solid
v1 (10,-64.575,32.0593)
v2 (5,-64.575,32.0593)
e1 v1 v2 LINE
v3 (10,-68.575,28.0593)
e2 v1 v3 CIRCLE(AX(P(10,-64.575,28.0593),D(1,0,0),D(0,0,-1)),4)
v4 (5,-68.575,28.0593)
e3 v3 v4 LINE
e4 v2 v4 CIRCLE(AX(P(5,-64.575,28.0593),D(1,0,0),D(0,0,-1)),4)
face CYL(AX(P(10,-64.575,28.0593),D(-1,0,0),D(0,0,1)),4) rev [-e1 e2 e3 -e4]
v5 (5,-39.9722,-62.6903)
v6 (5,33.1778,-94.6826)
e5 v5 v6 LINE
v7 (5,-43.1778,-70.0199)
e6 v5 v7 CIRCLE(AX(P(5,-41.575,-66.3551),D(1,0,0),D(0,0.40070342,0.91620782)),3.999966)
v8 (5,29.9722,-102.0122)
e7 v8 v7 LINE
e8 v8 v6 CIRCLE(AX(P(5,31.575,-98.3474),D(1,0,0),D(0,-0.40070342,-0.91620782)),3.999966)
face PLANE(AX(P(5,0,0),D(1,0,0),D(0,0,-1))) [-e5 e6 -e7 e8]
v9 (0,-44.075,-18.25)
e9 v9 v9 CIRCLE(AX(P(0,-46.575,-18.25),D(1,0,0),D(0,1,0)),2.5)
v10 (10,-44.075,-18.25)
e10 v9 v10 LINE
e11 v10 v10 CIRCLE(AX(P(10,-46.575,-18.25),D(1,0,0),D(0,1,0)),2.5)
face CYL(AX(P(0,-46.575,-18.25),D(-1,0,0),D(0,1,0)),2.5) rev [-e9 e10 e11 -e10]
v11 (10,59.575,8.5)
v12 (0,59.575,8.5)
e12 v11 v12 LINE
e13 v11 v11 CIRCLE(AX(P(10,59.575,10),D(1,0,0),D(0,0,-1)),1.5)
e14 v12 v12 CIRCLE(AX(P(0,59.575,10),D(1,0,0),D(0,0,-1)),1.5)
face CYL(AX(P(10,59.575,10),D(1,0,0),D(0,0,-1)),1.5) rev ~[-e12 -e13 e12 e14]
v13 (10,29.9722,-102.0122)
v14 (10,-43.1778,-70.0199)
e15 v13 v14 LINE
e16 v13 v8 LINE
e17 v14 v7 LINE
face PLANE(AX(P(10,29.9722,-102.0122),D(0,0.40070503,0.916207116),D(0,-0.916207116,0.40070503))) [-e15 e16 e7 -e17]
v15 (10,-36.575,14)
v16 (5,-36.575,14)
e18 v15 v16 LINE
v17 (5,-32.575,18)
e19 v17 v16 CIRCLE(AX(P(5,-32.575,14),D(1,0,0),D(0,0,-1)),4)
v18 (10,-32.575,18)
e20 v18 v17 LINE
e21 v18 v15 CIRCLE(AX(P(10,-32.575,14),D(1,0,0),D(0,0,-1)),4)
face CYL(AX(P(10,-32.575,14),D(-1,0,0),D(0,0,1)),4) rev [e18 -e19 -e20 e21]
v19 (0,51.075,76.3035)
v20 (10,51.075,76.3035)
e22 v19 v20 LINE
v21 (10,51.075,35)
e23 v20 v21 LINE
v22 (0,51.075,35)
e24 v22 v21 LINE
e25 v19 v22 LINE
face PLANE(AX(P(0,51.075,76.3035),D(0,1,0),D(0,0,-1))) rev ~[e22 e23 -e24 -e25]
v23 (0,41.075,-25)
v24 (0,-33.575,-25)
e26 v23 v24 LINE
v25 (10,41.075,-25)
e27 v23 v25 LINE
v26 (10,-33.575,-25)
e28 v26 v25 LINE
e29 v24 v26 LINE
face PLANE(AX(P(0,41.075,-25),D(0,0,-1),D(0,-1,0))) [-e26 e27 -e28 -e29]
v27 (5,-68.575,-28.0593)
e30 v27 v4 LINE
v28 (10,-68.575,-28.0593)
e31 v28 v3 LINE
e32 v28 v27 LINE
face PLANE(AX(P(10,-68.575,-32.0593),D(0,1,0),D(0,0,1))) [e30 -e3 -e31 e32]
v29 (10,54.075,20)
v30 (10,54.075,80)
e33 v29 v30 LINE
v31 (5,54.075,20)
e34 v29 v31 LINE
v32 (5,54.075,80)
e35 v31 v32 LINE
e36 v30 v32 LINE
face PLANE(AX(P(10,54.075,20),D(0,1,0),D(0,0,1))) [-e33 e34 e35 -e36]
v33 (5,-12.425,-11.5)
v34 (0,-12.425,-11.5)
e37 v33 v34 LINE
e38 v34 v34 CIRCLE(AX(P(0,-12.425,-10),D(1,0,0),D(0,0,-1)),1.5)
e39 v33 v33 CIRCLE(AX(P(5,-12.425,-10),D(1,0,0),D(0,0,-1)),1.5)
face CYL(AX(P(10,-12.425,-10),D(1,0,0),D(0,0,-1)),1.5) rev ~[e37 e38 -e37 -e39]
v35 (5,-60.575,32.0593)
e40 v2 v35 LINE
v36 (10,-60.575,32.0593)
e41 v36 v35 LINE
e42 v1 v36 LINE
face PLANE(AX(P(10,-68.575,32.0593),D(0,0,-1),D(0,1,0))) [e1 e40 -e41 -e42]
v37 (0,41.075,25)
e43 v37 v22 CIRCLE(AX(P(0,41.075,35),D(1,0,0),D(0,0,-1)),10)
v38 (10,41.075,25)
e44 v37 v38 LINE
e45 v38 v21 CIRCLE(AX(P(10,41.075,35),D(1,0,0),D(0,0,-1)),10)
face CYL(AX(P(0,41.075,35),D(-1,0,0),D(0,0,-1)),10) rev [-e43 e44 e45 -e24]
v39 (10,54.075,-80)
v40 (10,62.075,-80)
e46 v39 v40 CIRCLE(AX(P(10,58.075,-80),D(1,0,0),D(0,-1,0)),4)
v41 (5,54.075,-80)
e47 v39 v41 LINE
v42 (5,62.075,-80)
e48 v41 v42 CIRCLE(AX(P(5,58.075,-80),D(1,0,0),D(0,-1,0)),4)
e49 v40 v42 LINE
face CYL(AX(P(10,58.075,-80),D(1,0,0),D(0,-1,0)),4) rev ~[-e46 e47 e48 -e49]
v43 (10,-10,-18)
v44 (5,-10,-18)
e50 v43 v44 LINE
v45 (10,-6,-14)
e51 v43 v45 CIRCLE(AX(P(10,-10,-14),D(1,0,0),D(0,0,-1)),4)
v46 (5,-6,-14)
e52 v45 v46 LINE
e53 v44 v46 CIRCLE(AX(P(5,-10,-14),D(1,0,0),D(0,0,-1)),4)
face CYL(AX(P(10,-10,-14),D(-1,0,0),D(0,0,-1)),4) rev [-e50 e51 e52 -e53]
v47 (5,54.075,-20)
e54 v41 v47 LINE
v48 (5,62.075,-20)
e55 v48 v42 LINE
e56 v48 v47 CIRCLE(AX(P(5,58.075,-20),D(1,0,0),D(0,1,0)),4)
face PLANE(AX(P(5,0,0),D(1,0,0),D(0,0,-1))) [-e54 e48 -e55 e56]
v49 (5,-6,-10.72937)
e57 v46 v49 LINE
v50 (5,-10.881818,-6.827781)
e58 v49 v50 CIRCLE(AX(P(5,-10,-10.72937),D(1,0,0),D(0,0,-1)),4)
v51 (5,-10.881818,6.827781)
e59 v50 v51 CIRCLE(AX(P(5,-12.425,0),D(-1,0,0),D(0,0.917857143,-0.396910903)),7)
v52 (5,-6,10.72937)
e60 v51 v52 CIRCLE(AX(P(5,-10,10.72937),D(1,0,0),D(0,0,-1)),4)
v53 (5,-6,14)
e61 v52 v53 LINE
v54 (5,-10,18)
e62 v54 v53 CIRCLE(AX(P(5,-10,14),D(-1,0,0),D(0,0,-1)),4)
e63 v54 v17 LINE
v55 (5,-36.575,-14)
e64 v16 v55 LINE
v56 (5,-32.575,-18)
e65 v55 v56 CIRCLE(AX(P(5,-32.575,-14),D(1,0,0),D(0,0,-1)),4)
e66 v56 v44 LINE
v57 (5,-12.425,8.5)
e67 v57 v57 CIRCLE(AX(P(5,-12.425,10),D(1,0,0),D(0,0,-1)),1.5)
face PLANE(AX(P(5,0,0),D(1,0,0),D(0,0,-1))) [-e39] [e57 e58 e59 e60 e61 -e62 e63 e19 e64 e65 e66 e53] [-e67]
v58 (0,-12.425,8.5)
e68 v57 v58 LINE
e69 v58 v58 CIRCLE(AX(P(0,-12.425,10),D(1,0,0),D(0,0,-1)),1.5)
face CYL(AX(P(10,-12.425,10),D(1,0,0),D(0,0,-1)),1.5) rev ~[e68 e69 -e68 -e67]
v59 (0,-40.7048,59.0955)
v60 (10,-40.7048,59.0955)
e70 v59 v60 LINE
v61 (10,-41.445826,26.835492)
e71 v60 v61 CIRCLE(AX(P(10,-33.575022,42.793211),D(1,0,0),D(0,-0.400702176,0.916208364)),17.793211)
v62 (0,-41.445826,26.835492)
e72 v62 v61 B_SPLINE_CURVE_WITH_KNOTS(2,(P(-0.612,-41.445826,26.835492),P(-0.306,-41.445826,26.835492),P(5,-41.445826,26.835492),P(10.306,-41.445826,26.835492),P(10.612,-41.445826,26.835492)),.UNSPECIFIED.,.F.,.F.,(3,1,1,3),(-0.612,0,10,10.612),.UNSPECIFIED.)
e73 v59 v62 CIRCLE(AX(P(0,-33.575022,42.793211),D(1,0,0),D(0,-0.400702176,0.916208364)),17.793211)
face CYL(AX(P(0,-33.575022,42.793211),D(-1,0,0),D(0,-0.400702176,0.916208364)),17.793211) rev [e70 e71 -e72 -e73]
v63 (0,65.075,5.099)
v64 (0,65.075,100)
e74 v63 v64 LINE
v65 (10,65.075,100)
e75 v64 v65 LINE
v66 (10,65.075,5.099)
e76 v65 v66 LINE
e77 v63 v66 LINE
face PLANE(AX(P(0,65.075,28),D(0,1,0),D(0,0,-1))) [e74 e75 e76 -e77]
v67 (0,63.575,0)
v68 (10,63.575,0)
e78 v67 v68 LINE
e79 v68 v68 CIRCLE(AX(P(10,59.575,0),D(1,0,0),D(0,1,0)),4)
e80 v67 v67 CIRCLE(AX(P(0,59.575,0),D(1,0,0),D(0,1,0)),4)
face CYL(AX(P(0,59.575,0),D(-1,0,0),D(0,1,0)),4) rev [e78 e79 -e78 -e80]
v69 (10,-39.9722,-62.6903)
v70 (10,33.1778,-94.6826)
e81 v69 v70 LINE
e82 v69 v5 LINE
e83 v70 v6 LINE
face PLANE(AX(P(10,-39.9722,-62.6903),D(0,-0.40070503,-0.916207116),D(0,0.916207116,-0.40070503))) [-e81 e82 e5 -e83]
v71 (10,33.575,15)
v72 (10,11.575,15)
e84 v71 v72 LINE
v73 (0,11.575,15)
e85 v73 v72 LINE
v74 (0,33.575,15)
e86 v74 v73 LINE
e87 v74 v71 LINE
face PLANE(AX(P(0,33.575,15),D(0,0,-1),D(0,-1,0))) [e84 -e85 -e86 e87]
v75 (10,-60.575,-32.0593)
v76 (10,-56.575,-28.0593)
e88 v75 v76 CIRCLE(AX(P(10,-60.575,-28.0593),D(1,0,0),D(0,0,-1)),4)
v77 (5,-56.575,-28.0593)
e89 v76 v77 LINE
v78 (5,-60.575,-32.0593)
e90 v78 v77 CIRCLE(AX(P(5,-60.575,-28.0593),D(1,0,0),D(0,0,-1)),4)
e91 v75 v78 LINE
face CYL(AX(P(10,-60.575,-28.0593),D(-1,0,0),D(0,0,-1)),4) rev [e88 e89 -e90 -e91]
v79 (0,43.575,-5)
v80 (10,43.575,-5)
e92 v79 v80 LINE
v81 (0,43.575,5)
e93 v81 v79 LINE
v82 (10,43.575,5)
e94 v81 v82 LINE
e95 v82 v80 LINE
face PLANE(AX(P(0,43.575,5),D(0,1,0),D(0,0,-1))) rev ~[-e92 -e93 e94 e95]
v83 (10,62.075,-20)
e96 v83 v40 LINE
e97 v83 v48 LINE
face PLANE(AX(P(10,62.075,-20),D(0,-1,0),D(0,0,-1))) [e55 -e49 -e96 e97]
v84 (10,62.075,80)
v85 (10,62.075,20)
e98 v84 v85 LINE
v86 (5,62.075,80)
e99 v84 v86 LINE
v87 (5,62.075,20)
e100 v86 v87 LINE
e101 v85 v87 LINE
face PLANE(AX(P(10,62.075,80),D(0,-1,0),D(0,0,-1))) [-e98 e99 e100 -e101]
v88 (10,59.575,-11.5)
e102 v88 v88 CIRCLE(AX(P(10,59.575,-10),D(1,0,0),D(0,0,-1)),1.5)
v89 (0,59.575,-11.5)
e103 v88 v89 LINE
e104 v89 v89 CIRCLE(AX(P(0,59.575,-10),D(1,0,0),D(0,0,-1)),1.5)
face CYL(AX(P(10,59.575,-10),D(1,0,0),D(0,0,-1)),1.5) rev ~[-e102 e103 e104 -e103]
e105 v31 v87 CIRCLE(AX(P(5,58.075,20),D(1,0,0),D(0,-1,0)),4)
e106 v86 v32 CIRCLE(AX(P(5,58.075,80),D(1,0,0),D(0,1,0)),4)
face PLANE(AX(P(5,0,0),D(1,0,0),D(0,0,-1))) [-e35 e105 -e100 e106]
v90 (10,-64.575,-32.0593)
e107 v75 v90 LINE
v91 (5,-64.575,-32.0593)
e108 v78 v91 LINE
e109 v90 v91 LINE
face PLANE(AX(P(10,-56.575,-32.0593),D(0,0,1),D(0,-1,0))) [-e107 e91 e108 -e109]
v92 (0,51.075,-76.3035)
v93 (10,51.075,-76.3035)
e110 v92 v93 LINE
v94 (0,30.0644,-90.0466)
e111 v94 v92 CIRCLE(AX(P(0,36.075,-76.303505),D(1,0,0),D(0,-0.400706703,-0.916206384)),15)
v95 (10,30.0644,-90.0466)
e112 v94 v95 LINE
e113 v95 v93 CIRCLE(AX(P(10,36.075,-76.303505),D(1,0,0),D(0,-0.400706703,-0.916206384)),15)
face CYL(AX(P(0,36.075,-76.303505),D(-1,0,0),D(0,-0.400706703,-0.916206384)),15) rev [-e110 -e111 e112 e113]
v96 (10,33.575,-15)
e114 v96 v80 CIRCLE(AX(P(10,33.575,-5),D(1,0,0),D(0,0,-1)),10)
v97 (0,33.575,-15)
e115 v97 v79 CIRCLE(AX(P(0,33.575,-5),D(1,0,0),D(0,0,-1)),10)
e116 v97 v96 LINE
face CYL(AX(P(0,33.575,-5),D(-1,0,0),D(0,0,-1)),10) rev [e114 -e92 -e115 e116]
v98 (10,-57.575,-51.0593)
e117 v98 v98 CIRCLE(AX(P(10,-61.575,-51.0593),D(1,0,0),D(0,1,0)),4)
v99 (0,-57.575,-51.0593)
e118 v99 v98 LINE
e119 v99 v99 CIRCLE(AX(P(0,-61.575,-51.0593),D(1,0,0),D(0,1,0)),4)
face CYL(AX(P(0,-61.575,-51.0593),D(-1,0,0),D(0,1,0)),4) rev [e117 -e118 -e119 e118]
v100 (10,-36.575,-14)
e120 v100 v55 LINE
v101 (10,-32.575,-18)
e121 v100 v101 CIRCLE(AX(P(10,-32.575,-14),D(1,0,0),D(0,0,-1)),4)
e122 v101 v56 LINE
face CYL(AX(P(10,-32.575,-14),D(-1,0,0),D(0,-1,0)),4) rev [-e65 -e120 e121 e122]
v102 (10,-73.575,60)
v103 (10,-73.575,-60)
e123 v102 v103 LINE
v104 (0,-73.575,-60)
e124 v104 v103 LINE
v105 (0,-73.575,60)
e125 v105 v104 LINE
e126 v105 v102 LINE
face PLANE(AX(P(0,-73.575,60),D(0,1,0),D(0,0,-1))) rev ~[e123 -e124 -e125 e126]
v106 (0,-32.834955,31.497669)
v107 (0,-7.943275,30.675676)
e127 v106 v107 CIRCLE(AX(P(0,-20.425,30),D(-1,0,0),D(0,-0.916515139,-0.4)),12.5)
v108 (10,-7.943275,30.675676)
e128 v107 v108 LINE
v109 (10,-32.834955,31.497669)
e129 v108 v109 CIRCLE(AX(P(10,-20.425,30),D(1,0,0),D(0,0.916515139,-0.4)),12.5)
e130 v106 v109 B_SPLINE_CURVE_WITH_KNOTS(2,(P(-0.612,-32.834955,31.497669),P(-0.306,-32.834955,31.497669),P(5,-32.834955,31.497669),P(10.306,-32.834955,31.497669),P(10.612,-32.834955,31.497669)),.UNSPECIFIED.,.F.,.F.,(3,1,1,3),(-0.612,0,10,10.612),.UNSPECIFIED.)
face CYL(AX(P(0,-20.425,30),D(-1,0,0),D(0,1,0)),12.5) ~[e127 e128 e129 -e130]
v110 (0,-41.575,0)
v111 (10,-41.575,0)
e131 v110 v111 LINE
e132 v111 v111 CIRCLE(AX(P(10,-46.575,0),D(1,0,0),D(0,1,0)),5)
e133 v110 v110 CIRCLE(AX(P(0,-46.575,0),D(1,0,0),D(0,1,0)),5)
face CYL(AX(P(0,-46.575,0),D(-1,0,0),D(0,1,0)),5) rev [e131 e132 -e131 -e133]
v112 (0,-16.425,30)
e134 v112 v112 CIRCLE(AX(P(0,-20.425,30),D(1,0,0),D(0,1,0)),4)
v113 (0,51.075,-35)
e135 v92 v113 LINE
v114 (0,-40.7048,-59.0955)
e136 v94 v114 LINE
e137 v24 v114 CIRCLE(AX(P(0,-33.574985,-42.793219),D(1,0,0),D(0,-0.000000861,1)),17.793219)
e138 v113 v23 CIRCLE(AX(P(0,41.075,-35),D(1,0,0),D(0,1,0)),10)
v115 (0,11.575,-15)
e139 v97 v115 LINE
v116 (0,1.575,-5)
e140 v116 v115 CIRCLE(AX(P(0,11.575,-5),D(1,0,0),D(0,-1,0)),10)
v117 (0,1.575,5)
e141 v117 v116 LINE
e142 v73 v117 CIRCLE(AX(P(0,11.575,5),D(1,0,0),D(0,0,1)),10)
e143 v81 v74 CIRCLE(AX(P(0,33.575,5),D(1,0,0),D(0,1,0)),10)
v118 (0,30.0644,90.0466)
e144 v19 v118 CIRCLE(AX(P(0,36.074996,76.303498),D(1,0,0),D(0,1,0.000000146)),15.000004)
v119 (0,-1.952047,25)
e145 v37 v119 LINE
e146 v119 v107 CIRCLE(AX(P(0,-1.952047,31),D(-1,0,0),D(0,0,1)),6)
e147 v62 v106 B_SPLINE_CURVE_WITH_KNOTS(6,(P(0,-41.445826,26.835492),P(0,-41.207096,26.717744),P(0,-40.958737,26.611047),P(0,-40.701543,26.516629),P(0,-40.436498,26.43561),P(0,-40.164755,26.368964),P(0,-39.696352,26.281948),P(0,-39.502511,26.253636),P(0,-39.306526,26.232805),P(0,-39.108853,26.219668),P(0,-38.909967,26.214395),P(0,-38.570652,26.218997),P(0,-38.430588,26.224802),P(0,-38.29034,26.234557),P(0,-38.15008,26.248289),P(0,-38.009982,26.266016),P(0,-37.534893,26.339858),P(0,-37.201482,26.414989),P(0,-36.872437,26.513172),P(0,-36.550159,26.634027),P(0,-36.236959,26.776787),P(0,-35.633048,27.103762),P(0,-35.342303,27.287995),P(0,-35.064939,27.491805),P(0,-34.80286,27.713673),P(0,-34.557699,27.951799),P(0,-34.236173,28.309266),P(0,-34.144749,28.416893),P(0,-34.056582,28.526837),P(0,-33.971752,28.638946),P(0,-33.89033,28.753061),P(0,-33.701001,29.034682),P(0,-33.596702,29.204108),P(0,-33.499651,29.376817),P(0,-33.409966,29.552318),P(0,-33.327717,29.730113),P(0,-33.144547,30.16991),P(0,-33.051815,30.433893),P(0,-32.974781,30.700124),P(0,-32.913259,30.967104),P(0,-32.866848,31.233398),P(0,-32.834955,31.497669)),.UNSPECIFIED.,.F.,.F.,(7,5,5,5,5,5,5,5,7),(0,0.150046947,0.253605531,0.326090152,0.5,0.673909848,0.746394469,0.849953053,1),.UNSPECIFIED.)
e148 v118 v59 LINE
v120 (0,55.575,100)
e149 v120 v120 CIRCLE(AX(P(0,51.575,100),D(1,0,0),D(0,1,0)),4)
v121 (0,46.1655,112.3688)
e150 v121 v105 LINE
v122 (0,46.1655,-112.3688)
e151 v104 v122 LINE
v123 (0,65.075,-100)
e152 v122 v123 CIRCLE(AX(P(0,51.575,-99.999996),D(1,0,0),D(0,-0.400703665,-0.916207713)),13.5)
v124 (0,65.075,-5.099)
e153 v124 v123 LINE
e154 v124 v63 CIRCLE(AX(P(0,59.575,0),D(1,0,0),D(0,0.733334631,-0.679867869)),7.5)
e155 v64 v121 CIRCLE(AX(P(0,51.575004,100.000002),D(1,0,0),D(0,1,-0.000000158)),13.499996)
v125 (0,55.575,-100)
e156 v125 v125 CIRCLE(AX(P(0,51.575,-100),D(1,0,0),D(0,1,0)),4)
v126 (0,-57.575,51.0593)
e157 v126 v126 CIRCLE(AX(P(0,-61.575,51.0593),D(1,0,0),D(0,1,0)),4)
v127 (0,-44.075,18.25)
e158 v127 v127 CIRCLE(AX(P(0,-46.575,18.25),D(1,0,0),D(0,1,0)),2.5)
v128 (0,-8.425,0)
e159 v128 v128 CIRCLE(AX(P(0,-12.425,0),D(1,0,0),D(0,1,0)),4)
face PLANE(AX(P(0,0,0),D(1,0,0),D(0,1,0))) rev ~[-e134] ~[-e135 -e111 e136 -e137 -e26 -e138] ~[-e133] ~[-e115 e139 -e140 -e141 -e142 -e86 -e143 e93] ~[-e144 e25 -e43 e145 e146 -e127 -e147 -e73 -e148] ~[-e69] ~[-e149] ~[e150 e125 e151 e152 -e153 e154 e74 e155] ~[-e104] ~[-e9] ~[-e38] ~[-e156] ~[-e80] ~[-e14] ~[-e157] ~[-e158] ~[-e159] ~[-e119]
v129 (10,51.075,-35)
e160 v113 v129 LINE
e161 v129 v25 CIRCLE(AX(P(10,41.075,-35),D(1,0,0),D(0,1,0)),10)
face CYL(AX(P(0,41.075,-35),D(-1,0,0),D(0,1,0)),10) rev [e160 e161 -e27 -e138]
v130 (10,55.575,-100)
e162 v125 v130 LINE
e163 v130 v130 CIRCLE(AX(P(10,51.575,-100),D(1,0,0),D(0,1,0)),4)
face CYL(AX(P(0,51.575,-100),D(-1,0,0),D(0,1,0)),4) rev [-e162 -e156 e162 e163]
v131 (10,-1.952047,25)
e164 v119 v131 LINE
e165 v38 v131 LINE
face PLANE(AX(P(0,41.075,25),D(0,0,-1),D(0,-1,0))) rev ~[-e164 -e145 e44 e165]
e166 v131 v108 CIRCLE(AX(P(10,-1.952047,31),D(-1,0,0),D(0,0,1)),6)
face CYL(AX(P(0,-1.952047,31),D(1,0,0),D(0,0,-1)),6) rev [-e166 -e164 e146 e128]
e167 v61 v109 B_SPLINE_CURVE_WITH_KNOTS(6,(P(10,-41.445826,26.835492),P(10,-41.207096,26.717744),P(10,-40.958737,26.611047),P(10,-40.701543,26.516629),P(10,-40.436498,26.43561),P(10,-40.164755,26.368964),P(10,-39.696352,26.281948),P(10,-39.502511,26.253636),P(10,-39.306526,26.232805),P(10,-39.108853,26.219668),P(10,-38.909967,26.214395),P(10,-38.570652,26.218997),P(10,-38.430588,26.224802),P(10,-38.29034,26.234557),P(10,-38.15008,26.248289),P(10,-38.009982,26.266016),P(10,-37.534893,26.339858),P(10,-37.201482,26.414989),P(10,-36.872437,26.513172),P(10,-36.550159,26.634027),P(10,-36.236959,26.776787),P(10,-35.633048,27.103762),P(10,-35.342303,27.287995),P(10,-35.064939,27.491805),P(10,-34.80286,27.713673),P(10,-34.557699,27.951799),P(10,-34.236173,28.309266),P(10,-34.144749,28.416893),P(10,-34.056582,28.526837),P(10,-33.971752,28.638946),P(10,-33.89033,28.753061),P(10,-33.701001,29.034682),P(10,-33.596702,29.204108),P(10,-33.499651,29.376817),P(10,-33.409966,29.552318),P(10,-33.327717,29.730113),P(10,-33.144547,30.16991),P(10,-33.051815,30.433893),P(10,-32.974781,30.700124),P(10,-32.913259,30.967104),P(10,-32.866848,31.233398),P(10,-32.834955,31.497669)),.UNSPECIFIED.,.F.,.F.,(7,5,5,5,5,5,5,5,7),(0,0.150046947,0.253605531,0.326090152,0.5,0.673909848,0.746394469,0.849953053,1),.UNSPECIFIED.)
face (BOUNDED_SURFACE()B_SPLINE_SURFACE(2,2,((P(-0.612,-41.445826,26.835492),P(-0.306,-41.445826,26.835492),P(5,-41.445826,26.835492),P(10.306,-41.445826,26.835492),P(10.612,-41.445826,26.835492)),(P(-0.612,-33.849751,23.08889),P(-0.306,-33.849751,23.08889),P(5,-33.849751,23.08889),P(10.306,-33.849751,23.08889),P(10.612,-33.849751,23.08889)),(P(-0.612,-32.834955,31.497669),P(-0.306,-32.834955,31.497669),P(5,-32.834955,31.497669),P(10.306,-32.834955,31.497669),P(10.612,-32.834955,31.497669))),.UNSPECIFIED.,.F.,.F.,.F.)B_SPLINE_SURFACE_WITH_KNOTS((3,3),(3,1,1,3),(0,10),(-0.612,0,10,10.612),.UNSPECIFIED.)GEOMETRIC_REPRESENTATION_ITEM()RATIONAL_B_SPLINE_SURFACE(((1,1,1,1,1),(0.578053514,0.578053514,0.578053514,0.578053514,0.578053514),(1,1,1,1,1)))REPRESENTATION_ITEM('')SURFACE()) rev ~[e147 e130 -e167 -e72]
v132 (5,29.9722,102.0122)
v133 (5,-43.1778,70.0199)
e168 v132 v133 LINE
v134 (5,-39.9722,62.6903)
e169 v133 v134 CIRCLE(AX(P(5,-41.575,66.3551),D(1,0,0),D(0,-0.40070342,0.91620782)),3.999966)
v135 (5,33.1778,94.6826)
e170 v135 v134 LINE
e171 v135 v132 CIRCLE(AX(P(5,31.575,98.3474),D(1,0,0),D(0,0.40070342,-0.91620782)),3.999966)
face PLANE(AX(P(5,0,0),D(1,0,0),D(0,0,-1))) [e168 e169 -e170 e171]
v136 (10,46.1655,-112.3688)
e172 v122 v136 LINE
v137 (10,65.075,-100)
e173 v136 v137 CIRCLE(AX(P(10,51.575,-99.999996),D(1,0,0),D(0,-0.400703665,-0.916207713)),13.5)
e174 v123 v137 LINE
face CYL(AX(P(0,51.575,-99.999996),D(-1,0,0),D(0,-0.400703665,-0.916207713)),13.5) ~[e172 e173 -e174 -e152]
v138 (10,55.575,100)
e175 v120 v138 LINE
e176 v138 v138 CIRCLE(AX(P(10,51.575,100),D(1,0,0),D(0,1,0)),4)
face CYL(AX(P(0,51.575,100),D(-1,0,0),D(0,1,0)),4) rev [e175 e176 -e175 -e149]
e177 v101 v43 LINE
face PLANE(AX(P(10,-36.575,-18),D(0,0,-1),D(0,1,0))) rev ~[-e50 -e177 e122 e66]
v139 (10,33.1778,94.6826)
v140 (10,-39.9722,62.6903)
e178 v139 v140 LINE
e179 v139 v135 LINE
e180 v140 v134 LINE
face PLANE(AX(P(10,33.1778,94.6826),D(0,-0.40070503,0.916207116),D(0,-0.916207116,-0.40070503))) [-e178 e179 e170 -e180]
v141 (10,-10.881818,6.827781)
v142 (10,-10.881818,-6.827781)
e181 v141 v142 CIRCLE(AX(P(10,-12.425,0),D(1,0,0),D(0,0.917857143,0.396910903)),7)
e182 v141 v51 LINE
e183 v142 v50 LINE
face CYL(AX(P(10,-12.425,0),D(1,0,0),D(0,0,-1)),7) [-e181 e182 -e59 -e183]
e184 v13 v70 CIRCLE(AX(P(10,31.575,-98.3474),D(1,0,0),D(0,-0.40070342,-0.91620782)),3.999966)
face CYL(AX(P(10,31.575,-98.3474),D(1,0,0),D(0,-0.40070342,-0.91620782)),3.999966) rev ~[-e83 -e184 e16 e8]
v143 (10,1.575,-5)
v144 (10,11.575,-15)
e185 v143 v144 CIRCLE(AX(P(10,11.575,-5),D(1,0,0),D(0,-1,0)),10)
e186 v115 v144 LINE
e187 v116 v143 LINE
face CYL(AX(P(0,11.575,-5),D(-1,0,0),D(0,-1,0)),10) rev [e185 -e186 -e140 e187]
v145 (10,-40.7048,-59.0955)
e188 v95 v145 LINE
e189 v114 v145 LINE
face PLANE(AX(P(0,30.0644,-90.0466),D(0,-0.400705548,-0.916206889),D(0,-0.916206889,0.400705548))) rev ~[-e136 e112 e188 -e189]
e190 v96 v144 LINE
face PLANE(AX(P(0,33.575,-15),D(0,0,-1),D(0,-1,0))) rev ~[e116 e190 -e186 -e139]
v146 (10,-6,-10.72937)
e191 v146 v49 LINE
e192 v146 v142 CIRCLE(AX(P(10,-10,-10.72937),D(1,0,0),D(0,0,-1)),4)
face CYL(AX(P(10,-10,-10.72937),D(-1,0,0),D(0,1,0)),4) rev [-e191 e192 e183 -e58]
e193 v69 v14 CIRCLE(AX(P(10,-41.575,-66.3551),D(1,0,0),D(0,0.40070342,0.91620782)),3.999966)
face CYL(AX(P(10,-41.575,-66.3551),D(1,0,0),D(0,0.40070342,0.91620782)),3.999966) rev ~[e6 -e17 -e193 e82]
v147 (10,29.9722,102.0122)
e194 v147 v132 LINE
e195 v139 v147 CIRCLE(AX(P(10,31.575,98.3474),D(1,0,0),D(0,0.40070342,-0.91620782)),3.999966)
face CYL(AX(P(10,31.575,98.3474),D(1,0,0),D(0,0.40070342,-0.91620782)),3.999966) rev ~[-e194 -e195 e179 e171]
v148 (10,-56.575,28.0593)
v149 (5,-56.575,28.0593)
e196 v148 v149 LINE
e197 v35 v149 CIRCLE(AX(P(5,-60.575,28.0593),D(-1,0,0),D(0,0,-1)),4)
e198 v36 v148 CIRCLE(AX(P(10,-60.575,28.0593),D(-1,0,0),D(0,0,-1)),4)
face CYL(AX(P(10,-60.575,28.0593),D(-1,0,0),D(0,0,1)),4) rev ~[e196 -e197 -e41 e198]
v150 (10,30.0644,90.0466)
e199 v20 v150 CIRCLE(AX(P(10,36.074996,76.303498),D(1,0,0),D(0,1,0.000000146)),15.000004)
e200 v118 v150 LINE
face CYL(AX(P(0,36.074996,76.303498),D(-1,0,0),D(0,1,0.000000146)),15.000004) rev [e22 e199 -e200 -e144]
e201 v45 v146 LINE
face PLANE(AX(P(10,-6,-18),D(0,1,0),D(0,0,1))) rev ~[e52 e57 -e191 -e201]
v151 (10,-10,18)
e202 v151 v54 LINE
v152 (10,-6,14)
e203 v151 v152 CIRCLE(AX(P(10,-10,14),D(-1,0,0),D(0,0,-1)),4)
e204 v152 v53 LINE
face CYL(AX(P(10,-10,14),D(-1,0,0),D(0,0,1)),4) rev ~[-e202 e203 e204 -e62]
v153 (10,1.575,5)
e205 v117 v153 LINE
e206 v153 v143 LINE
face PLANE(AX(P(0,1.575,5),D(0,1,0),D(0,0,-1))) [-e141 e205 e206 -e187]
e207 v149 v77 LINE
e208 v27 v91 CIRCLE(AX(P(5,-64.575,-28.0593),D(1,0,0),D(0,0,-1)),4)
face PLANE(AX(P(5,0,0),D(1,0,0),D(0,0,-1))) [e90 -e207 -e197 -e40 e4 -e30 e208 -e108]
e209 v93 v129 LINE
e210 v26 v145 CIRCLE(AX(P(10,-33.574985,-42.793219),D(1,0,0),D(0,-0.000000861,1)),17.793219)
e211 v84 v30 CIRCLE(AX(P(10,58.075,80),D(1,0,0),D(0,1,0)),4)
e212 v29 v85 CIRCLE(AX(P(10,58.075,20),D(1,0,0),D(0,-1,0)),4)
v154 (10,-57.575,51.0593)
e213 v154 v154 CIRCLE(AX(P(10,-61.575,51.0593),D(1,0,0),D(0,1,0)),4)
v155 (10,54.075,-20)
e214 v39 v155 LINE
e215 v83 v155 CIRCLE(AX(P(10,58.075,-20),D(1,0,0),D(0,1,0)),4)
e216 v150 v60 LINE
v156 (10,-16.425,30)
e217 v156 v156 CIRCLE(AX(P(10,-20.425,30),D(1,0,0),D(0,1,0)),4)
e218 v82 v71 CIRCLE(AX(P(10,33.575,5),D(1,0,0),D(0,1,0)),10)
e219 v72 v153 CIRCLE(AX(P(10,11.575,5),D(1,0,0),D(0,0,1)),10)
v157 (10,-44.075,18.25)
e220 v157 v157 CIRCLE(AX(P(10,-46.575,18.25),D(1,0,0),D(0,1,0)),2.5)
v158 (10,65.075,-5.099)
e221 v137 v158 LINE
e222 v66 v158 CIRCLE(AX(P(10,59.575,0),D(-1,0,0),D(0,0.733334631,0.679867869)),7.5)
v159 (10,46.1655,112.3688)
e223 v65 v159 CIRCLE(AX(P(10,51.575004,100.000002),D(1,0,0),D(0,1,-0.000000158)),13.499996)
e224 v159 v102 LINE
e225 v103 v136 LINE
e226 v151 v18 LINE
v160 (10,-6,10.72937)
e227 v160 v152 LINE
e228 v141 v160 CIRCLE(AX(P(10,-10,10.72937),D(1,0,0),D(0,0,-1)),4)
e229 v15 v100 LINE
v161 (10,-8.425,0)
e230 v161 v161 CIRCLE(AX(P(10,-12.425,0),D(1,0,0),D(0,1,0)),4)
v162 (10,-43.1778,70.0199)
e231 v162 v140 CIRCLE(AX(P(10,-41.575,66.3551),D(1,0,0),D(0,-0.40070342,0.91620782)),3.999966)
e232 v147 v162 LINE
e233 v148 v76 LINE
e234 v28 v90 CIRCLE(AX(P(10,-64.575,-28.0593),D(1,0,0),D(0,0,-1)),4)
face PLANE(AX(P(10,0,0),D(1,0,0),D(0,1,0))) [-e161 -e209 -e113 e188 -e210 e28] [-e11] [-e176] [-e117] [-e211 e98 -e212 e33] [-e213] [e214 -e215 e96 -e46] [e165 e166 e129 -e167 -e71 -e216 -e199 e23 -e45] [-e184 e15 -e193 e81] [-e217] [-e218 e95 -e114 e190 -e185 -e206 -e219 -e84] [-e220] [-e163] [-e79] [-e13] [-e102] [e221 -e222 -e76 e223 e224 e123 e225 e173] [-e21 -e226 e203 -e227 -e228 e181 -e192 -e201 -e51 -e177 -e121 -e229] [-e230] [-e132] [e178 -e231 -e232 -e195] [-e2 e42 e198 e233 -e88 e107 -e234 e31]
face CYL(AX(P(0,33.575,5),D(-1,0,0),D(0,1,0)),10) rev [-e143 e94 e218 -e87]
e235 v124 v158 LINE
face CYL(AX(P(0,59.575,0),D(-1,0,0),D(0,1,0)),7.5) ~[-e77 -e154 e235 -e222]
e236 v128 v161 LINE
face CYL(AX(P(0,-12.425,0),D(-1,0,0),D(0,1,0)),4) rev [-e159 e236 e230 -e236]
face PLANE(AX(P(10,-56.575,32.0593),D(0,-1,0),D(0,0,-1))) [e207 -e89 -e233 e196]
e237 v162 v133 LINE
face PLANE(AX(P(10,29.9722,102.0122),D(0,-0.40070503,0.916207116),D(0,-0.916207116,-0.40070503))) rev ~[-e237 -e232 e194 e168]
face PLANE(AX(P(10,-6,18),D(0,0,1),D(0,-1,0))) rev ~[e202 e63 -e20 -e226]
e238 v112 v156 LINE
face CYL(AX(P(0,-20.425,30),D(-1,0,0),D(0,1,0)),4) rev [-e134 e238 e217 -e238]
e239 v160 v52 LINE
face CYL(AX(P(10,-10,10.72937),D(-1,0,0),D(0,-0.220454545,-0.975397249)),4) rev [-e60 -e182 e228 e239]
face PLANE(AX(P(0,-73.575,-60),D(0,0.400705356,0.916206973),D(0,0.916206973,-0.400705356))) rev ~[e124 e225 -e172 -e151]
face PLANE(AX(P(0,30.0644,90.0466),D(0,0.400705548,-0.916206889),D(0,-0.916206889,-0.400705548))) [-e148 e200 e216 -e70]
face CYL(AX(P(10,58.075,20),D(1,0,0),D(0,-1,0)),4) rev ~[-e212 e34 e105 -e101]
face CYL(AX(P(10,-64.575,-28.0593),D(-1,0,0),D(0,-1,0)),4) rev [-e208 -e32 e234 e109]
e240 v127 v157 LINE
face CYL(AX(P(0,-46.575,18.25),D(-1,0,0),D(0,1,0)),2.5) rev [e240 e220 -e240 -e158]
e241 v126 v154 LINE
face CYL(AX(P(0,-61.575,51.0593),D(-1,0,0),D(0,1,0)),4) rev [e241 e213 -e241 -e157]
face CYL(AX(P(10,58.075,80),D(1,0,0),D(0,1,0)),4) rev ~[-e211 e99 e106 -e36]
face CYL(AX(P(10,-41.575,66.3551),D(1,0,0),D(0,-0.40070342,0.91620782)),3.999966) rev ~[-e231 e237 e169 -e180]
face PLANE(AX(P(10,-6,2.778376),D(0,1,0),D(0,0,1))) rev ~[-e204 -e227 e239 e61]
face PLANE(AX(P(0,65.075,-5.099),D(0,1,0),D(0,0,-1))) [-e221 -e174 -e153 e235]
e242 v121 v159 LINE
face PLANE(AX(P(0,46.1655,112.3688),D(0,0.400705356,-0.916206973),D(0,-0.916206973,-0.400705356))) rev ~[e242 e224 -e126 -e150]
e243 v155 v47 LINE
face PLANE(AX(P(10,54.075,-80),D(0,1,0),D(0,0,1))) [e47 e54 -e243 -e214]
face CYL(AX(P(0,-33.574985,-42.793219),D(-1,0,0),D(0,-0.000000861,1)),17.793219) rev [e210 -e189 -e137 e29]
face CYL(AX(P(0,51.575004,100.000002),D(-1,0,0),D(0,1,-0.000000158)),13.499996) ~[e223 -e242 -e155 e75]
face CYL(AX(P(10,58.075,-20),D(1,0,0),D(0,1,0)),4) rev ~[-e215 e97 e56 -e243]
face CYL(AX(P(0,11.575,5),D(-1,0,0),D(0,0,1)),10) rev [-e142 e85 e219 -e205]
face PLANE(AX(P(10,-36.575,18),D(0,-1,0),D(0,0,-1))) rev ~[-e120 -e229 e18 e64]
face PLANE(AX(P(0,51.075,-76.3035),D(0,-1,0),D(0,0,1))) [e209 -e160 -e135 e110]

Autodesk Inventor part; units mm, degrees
ref_plane "YZ Plane" through (0, 0, 0) normal (1, 0, 0) x (0, 1, 0)
ref_plane "XZ Plane" through (0, 0, 0) normal (0, 1, 0) x (-1, 0, 0)
ref_plane "XY Plane" through (0, 0, 0) normal (0, 0, 1) x (1, 0, 0)
sketch "Sketch1" plane through (0, 0, 0) normal (1, 0, 0) x (0, 1, 0)
  line L0 (73.575, 28) -> (65.075, 28)
  line L1 (-73.575, 60) -> (-73.575, -60)
  line L2 (73.575, -28) -> (73.575, 28)
  circle A0 centre (59.575, 0) radius 4
  circle A1 centre (-12.425, 0) radius 4
  circle A2 centre (-46.575, 0) radius 5
  circle A3 centre (-46.575, 18.25) radius 2.5
  circle A4 centre (-46.575, -18.25) radius 2.5
  circle A5 centre (59.575, 0) radius 7.5
  line L3 (65.075, 28) -> (65.075, 5.099)
  line L4 (65.075, -5.099) -> (65.075, -28)
  circle A6 centre (51.575, -100) radius 4
  circle A7 centre (51.575, 100) radius 4
  arc A8 (65.075, 100) -> (46.1655, 112.3688) centre (51.575, 100) ccw
  arc A9 (46.1655, -112.3688) -> (65.075, -100) centre (51.575, -100) ccw
  line L5 (65.075, 28) -> (65.075, 100)
  line L6 (65.075, -28) -> (65.075, -100)
  line L7 (46.1655, 112.3688) -> (-73.575, 60)
  line L8 (-73.575, -60) -> (46.1655, -112.3688)
  line L9 (65.075, -28) -> (73.575, -28)
  line L10 (30.0644, 90.0466) -> (-40.7048, 59.0955)
  line L11 (30.0644, -90.0466) -> (-40.7048, -59.0955)
  line L12 (51.075, 76.3035) -> (51.075, 35)
  line L13 (51.075, -76.3035) -> (51.075, -35)
  line L14 (41.075, 25) -> (-33.575, 25)
  line L15 (41.075, -25) -> (-33.575, -25)
  arc A10 (41.075, 25) -> (51.075, 35) centre (41.075, 35) ccw
  arc A11 (-40.7048, 59.0955) -> (-33.575, 25) centre (-33.575, 42.7932) ccw
  arc A12 (51.075, -35) -> (41.075, -25) centre (41.075, -35) ccw
  line L16 (-31.8814, -25) -> (-33.575, -25)
  arc A13 (-33.575, -25) -> (-40.7048, -59.0955) centre (-33.575, -42.7932) ccw
  line L17 (1.575, 5) -> (1.575, -5)
  arc A14 (43.575, 5) -> (33.575, 15) centre (33.575, 5) ccw
  arc A15 (33.575, -15) -> (43.575, -5) centre (33.575, -5) ccw
  arc A16 (11.575, 15) -> (1.575, 5) centre (11.575, 5) ccw
  arc A17 (1.575, -5) -> (11.575, -15) centre (11.575, -5) ccw
  circle A18 centre (-61.575, 51.0593) radius 4
  circle A19 centre (-61.575, -51.0593) radius 4
  arc A20 (51.075, 76.3035) -> (30.0644, 90.0466) centre (36.075, 76.3035) ccw
  arc A21 (30.0644, -90.0466) -> (51.075, -76.3035) centre (36.075, -76.3035) ccw
  line L18 (43.575, 5) -> (43.575, -5)
  line L19 (33.575, 15) -> (11.575, 15)
  line L20 (33.575, -15) -> (11.575, -15)
  circle A22 centre (-20.425, 30) radius 4
  circle A23 centre (-20.425, 30) radius 12.5
  point P0 (0, 0)
  point P1 (73.575, 0)
  point P2 (51.075, 58.5072)
  point P3 (51.075, -58.5072)
  point P4 (-20.425, -42.5)
  point P5 (16.0532, -25)
  point P6 (-49.2726, -25)
  point P7 (51.075, 59.4738)
  point P8 (43.575, 0)
  point P9 (1.575, 0)
  dimension "d1" = 56
  dimension "d2" = 72
  dimension "d3" = 8
  dimension "d4" = 8
  dimension "d5" = 14
  dimension "d6" = 34.15
  dimension "d7" = 10
  dimension "d8" = 18.25
  dimension "d9" = 18.25
  dimension "d10" = 5
  dimension "d13" = 12.425
  dimension "d14" = 27
  dimension "d15" = 15
  dimension "d18" = 5.5
  dimension "d19" = 8
  dimension "d20" = 100
  dimension "d21" = 100
  dimension "d22" = 8
  dimension "d27" = 60
  dimension "d28" = 60
  dimension "d31" = 14
  dimension "d33" = 14
  dimension "d34" = 14
  dimension "d36" = 25
  dimension "d37" = 25
  dimension "d43" = 40
  dimension "d45" = 14
  dimension "d47" = 12
  dimension "d48" = 13
  dimension "d49" = 13
  dimension "d50" = 12
  dimension "d58" = 10
  dimension "d59" = 15
  dimension "d60" = 16
  dimension "d61" = 10
  dimension "d62" = 10
  dimension "d90" = 8
  dimension "d91" = 25
  dimension "d92" = 30
  dimension "d93" = 8
extrude "Extrusion3" add sketch "Sketch1" along normal blind 10 contours L3 A5 L4 L6 A9 L8 L1 L7 A8 L5 | A5 | A23 L14 | L14 A23
fillet "Fillet1" radius 6 3 edges at (5, -33.575, -25) (5, -31.8814, 25) (5, -8.9686, 25)
sketch "Sketch3" plane through (10, 0, 0) normal (1, 0, 0) x (0, 0, -1)
  line L0 (-18, -36.575) -> (18, -36.575)
  line L1 (18, -36.575) -> (18, -6)
  line L2 (18, -6) -> (-18, -6)
  line L3 (-18, -6) -> (-18, -36.575)
  line L4 (-15, 11.575) -> (-15, 33.575) projected
  line L5 (15, 33.575) -> (15, 11.575) projected
  circle A0 centre (0, -46.575) radius 5 projected
  line L6 (-32.0593, -56.575) -> (32.0593, -56.575)
  line L7 (32.0593, -56.575) -> (32.0593, -68.575)
  line L8 (32.0593, -68.575) -> (-32.0593, -68.575)
  line L9 (-32.0593, -68.575) -> (-32.0593, -56.575)
  line L10 (-60, -73.575) -> (60, -73.575) projected
  line L11 (-102.0122, 29.9722) -> (-70.0199, -43.1778)
  line L12 (-94.6826, 33.1778) -> (-62.6903, -39.9722)
  line L13 (62.6903, -39.9722) -> (94.6826, 33.1778)
  line L14 (90.0466, 30.0644) -> (59.0955, -40.7048) projected
  line L15 (102.0122, 29.9722) -> (70.0199, -43.1778)
  line L16 (60, -73.575) -> (112.3688, 46.1655) projected
  arc A1 (-94.6826, 33.1778) -> (-102.0122, 29.9722) centre (-98.3474, 31.575) ccw
  arc A2 (-70.0199, -43.1778) -> (-62.6903, -39.9722) centre (-66.3551, -41.575) ccw
  arc A3 (102.0122, 29.9722) -> (94.6826, 33.1778) centre (98.3474, 31.575) ccw
  arc A4 (62.6903, -39.9722) -> (70.0199, -43.1778) centre (66.3551, -41.575) ccw
  line L17 (-59.0955, -40.7048) -> (-90.0466, 30.0644) projected
  line L18 (-112.3688, 46.1655) -> (-60, -73.575) projected
  line L19 (-80, 62.075) -> (-20, 62.075)
  line L20 (-20, 54.075) -> (-80, 54.075)
  line L21 (20, 62.075) -> (80, 62.075)
  line L22 (80, 54.075) -> (20, 54.075)
  arc A5 (-80, 62.075) -> (-80, 54.075) centre (-80, 58.075) ccw
  arc A6 (-20, 54.075) -> (-20, 62.075) centre (-20, 58.075) ccw
  arc A7 (20, 62.075) -> (20, 54.075) centre (20, 58.075) ccw
  arc A8 (80, 54.075) -> (80, 62.075) centre (80, 58.075) ccw
  circle A9 centre (0, 59.575) radius 4 projected
  line L23 (-5.099, 65.075) -> (-100, 65.075) projected
  line L24 (-76.3035, 51.075) -> (-35, 51.075) projected
  line L25 (35, 51.075) -> (76.3035, 51.075) projected
  line L26 (100, 65.075) -> (5.099, 65.075) projected
  circle A10 centre (0, -12.425) radius 7
  circle A11 centre (0, -12.425) radius 4 projected
  circle A12 centre (-100, 51.575) radius 4
  circle A13 centre (100, 51.575) radius 4
  circle A14 centre (-51.0593, -61.575) radius 4 projected
  circle A15 centre (-51.0593, -61.575) radius 4
  circle A16 centre (-100, 51.575) radius 4 projected
  circle A17 centre (100, 51.575) radius 4 projected
  circle A18 centre (-51.0593, -61.575) radius 4 projected
  point P0 (0, 0)
  dimension "d63" = 3
  dimension "d64" = 3
  dimension "d65" = 6
  dimension "d66" = 10
  dimension "d67" = 5
  dimension "d68" = 10
  dimension "d71" = 3
  dimension "d72" = 3
  dimension "d73" = 3
  dimension "d74" = 3
  dimension "d78" = 20
  dimension "d79" = 20
  dimension "d81" = 3
  dimension "d82" = 3
  dimension "d83" = 3
  dimension "d84" = 3
  dimension "d87" = 14
  dimension "d113" = 20
  dimension "d114" = 20
  dimension "d115" = 20
  dimension "d117" = 20
extrude "Extrusion5" cut sketch "Sketch3" against normal blind 5 contours L3 L2 A10 L1 L0 | L6 L7 L8 L9 | A1 L12 A2 L11 | L13 A3 L15 A4 | L19 A6 L20 A5 | L21 A8 L22 A7
fillet "Fillet2" radius 4 10 edges at (7.5, -6, 18) (7.5, -36.575, 18) (7.5, -36.575, -18) (7.5, -6, -18) (7.5, -6, 2.7784) (7.5, -6, -2.7784) (7.5, -56.575, 32.0593) (7.5, -56.575, -32.0593) (7.5, -68.575, -32.0593) (7.5, -68.575, 32.0593)
sketch "Sketch4" plane through (10, -32.6529, 0.9304) normal (1, 0, 0) x (0, 0, -1)
  circle A0 centre (-9.0696, 92.2279) radius 1.5
  circle A1 centre (10.9304, 92.2279) radius 1.5
  circle A2 centre (0.9304, 92.2279) radius 4
  circle A3 centre (0.9304, 92.2279) radius 4
  circle A4 centre (0.9304, 92.2279) radius 4 projected
  circle A5 centre (-9.0696, 20.2279) radius 1.5
  circle A6 centre (10.9304, 20.2279) radius 1.5
  circle A7 centre (0.9304, 20.2279) radius 4
  circle A8 centre (0.9304, 20.2279) radius 4
  circle A9 centre (0.9304, 20.2279) radius 4
  circle A10 centre (0.9304, 20.2279) radius 4 projected
  circle A11 centre (-9.0696, 20.2279) radius 1.5
  circle A12 centre (10.9304, 20.2279) radius 1.5
  point P0 (0, 0)
  dimension "d106" = 3
  dimension "d105" = 10
  dimension "d104" = 10
  dimension "d110" = 3
  dimension "d111" = 10
  dimension "d112" = 10
extrude "Extrusion6" cut sketch "Sketch4" against normal blind 10 contours A0 | A1 | A5 | A6
properties part number "Frame_Bearing"
